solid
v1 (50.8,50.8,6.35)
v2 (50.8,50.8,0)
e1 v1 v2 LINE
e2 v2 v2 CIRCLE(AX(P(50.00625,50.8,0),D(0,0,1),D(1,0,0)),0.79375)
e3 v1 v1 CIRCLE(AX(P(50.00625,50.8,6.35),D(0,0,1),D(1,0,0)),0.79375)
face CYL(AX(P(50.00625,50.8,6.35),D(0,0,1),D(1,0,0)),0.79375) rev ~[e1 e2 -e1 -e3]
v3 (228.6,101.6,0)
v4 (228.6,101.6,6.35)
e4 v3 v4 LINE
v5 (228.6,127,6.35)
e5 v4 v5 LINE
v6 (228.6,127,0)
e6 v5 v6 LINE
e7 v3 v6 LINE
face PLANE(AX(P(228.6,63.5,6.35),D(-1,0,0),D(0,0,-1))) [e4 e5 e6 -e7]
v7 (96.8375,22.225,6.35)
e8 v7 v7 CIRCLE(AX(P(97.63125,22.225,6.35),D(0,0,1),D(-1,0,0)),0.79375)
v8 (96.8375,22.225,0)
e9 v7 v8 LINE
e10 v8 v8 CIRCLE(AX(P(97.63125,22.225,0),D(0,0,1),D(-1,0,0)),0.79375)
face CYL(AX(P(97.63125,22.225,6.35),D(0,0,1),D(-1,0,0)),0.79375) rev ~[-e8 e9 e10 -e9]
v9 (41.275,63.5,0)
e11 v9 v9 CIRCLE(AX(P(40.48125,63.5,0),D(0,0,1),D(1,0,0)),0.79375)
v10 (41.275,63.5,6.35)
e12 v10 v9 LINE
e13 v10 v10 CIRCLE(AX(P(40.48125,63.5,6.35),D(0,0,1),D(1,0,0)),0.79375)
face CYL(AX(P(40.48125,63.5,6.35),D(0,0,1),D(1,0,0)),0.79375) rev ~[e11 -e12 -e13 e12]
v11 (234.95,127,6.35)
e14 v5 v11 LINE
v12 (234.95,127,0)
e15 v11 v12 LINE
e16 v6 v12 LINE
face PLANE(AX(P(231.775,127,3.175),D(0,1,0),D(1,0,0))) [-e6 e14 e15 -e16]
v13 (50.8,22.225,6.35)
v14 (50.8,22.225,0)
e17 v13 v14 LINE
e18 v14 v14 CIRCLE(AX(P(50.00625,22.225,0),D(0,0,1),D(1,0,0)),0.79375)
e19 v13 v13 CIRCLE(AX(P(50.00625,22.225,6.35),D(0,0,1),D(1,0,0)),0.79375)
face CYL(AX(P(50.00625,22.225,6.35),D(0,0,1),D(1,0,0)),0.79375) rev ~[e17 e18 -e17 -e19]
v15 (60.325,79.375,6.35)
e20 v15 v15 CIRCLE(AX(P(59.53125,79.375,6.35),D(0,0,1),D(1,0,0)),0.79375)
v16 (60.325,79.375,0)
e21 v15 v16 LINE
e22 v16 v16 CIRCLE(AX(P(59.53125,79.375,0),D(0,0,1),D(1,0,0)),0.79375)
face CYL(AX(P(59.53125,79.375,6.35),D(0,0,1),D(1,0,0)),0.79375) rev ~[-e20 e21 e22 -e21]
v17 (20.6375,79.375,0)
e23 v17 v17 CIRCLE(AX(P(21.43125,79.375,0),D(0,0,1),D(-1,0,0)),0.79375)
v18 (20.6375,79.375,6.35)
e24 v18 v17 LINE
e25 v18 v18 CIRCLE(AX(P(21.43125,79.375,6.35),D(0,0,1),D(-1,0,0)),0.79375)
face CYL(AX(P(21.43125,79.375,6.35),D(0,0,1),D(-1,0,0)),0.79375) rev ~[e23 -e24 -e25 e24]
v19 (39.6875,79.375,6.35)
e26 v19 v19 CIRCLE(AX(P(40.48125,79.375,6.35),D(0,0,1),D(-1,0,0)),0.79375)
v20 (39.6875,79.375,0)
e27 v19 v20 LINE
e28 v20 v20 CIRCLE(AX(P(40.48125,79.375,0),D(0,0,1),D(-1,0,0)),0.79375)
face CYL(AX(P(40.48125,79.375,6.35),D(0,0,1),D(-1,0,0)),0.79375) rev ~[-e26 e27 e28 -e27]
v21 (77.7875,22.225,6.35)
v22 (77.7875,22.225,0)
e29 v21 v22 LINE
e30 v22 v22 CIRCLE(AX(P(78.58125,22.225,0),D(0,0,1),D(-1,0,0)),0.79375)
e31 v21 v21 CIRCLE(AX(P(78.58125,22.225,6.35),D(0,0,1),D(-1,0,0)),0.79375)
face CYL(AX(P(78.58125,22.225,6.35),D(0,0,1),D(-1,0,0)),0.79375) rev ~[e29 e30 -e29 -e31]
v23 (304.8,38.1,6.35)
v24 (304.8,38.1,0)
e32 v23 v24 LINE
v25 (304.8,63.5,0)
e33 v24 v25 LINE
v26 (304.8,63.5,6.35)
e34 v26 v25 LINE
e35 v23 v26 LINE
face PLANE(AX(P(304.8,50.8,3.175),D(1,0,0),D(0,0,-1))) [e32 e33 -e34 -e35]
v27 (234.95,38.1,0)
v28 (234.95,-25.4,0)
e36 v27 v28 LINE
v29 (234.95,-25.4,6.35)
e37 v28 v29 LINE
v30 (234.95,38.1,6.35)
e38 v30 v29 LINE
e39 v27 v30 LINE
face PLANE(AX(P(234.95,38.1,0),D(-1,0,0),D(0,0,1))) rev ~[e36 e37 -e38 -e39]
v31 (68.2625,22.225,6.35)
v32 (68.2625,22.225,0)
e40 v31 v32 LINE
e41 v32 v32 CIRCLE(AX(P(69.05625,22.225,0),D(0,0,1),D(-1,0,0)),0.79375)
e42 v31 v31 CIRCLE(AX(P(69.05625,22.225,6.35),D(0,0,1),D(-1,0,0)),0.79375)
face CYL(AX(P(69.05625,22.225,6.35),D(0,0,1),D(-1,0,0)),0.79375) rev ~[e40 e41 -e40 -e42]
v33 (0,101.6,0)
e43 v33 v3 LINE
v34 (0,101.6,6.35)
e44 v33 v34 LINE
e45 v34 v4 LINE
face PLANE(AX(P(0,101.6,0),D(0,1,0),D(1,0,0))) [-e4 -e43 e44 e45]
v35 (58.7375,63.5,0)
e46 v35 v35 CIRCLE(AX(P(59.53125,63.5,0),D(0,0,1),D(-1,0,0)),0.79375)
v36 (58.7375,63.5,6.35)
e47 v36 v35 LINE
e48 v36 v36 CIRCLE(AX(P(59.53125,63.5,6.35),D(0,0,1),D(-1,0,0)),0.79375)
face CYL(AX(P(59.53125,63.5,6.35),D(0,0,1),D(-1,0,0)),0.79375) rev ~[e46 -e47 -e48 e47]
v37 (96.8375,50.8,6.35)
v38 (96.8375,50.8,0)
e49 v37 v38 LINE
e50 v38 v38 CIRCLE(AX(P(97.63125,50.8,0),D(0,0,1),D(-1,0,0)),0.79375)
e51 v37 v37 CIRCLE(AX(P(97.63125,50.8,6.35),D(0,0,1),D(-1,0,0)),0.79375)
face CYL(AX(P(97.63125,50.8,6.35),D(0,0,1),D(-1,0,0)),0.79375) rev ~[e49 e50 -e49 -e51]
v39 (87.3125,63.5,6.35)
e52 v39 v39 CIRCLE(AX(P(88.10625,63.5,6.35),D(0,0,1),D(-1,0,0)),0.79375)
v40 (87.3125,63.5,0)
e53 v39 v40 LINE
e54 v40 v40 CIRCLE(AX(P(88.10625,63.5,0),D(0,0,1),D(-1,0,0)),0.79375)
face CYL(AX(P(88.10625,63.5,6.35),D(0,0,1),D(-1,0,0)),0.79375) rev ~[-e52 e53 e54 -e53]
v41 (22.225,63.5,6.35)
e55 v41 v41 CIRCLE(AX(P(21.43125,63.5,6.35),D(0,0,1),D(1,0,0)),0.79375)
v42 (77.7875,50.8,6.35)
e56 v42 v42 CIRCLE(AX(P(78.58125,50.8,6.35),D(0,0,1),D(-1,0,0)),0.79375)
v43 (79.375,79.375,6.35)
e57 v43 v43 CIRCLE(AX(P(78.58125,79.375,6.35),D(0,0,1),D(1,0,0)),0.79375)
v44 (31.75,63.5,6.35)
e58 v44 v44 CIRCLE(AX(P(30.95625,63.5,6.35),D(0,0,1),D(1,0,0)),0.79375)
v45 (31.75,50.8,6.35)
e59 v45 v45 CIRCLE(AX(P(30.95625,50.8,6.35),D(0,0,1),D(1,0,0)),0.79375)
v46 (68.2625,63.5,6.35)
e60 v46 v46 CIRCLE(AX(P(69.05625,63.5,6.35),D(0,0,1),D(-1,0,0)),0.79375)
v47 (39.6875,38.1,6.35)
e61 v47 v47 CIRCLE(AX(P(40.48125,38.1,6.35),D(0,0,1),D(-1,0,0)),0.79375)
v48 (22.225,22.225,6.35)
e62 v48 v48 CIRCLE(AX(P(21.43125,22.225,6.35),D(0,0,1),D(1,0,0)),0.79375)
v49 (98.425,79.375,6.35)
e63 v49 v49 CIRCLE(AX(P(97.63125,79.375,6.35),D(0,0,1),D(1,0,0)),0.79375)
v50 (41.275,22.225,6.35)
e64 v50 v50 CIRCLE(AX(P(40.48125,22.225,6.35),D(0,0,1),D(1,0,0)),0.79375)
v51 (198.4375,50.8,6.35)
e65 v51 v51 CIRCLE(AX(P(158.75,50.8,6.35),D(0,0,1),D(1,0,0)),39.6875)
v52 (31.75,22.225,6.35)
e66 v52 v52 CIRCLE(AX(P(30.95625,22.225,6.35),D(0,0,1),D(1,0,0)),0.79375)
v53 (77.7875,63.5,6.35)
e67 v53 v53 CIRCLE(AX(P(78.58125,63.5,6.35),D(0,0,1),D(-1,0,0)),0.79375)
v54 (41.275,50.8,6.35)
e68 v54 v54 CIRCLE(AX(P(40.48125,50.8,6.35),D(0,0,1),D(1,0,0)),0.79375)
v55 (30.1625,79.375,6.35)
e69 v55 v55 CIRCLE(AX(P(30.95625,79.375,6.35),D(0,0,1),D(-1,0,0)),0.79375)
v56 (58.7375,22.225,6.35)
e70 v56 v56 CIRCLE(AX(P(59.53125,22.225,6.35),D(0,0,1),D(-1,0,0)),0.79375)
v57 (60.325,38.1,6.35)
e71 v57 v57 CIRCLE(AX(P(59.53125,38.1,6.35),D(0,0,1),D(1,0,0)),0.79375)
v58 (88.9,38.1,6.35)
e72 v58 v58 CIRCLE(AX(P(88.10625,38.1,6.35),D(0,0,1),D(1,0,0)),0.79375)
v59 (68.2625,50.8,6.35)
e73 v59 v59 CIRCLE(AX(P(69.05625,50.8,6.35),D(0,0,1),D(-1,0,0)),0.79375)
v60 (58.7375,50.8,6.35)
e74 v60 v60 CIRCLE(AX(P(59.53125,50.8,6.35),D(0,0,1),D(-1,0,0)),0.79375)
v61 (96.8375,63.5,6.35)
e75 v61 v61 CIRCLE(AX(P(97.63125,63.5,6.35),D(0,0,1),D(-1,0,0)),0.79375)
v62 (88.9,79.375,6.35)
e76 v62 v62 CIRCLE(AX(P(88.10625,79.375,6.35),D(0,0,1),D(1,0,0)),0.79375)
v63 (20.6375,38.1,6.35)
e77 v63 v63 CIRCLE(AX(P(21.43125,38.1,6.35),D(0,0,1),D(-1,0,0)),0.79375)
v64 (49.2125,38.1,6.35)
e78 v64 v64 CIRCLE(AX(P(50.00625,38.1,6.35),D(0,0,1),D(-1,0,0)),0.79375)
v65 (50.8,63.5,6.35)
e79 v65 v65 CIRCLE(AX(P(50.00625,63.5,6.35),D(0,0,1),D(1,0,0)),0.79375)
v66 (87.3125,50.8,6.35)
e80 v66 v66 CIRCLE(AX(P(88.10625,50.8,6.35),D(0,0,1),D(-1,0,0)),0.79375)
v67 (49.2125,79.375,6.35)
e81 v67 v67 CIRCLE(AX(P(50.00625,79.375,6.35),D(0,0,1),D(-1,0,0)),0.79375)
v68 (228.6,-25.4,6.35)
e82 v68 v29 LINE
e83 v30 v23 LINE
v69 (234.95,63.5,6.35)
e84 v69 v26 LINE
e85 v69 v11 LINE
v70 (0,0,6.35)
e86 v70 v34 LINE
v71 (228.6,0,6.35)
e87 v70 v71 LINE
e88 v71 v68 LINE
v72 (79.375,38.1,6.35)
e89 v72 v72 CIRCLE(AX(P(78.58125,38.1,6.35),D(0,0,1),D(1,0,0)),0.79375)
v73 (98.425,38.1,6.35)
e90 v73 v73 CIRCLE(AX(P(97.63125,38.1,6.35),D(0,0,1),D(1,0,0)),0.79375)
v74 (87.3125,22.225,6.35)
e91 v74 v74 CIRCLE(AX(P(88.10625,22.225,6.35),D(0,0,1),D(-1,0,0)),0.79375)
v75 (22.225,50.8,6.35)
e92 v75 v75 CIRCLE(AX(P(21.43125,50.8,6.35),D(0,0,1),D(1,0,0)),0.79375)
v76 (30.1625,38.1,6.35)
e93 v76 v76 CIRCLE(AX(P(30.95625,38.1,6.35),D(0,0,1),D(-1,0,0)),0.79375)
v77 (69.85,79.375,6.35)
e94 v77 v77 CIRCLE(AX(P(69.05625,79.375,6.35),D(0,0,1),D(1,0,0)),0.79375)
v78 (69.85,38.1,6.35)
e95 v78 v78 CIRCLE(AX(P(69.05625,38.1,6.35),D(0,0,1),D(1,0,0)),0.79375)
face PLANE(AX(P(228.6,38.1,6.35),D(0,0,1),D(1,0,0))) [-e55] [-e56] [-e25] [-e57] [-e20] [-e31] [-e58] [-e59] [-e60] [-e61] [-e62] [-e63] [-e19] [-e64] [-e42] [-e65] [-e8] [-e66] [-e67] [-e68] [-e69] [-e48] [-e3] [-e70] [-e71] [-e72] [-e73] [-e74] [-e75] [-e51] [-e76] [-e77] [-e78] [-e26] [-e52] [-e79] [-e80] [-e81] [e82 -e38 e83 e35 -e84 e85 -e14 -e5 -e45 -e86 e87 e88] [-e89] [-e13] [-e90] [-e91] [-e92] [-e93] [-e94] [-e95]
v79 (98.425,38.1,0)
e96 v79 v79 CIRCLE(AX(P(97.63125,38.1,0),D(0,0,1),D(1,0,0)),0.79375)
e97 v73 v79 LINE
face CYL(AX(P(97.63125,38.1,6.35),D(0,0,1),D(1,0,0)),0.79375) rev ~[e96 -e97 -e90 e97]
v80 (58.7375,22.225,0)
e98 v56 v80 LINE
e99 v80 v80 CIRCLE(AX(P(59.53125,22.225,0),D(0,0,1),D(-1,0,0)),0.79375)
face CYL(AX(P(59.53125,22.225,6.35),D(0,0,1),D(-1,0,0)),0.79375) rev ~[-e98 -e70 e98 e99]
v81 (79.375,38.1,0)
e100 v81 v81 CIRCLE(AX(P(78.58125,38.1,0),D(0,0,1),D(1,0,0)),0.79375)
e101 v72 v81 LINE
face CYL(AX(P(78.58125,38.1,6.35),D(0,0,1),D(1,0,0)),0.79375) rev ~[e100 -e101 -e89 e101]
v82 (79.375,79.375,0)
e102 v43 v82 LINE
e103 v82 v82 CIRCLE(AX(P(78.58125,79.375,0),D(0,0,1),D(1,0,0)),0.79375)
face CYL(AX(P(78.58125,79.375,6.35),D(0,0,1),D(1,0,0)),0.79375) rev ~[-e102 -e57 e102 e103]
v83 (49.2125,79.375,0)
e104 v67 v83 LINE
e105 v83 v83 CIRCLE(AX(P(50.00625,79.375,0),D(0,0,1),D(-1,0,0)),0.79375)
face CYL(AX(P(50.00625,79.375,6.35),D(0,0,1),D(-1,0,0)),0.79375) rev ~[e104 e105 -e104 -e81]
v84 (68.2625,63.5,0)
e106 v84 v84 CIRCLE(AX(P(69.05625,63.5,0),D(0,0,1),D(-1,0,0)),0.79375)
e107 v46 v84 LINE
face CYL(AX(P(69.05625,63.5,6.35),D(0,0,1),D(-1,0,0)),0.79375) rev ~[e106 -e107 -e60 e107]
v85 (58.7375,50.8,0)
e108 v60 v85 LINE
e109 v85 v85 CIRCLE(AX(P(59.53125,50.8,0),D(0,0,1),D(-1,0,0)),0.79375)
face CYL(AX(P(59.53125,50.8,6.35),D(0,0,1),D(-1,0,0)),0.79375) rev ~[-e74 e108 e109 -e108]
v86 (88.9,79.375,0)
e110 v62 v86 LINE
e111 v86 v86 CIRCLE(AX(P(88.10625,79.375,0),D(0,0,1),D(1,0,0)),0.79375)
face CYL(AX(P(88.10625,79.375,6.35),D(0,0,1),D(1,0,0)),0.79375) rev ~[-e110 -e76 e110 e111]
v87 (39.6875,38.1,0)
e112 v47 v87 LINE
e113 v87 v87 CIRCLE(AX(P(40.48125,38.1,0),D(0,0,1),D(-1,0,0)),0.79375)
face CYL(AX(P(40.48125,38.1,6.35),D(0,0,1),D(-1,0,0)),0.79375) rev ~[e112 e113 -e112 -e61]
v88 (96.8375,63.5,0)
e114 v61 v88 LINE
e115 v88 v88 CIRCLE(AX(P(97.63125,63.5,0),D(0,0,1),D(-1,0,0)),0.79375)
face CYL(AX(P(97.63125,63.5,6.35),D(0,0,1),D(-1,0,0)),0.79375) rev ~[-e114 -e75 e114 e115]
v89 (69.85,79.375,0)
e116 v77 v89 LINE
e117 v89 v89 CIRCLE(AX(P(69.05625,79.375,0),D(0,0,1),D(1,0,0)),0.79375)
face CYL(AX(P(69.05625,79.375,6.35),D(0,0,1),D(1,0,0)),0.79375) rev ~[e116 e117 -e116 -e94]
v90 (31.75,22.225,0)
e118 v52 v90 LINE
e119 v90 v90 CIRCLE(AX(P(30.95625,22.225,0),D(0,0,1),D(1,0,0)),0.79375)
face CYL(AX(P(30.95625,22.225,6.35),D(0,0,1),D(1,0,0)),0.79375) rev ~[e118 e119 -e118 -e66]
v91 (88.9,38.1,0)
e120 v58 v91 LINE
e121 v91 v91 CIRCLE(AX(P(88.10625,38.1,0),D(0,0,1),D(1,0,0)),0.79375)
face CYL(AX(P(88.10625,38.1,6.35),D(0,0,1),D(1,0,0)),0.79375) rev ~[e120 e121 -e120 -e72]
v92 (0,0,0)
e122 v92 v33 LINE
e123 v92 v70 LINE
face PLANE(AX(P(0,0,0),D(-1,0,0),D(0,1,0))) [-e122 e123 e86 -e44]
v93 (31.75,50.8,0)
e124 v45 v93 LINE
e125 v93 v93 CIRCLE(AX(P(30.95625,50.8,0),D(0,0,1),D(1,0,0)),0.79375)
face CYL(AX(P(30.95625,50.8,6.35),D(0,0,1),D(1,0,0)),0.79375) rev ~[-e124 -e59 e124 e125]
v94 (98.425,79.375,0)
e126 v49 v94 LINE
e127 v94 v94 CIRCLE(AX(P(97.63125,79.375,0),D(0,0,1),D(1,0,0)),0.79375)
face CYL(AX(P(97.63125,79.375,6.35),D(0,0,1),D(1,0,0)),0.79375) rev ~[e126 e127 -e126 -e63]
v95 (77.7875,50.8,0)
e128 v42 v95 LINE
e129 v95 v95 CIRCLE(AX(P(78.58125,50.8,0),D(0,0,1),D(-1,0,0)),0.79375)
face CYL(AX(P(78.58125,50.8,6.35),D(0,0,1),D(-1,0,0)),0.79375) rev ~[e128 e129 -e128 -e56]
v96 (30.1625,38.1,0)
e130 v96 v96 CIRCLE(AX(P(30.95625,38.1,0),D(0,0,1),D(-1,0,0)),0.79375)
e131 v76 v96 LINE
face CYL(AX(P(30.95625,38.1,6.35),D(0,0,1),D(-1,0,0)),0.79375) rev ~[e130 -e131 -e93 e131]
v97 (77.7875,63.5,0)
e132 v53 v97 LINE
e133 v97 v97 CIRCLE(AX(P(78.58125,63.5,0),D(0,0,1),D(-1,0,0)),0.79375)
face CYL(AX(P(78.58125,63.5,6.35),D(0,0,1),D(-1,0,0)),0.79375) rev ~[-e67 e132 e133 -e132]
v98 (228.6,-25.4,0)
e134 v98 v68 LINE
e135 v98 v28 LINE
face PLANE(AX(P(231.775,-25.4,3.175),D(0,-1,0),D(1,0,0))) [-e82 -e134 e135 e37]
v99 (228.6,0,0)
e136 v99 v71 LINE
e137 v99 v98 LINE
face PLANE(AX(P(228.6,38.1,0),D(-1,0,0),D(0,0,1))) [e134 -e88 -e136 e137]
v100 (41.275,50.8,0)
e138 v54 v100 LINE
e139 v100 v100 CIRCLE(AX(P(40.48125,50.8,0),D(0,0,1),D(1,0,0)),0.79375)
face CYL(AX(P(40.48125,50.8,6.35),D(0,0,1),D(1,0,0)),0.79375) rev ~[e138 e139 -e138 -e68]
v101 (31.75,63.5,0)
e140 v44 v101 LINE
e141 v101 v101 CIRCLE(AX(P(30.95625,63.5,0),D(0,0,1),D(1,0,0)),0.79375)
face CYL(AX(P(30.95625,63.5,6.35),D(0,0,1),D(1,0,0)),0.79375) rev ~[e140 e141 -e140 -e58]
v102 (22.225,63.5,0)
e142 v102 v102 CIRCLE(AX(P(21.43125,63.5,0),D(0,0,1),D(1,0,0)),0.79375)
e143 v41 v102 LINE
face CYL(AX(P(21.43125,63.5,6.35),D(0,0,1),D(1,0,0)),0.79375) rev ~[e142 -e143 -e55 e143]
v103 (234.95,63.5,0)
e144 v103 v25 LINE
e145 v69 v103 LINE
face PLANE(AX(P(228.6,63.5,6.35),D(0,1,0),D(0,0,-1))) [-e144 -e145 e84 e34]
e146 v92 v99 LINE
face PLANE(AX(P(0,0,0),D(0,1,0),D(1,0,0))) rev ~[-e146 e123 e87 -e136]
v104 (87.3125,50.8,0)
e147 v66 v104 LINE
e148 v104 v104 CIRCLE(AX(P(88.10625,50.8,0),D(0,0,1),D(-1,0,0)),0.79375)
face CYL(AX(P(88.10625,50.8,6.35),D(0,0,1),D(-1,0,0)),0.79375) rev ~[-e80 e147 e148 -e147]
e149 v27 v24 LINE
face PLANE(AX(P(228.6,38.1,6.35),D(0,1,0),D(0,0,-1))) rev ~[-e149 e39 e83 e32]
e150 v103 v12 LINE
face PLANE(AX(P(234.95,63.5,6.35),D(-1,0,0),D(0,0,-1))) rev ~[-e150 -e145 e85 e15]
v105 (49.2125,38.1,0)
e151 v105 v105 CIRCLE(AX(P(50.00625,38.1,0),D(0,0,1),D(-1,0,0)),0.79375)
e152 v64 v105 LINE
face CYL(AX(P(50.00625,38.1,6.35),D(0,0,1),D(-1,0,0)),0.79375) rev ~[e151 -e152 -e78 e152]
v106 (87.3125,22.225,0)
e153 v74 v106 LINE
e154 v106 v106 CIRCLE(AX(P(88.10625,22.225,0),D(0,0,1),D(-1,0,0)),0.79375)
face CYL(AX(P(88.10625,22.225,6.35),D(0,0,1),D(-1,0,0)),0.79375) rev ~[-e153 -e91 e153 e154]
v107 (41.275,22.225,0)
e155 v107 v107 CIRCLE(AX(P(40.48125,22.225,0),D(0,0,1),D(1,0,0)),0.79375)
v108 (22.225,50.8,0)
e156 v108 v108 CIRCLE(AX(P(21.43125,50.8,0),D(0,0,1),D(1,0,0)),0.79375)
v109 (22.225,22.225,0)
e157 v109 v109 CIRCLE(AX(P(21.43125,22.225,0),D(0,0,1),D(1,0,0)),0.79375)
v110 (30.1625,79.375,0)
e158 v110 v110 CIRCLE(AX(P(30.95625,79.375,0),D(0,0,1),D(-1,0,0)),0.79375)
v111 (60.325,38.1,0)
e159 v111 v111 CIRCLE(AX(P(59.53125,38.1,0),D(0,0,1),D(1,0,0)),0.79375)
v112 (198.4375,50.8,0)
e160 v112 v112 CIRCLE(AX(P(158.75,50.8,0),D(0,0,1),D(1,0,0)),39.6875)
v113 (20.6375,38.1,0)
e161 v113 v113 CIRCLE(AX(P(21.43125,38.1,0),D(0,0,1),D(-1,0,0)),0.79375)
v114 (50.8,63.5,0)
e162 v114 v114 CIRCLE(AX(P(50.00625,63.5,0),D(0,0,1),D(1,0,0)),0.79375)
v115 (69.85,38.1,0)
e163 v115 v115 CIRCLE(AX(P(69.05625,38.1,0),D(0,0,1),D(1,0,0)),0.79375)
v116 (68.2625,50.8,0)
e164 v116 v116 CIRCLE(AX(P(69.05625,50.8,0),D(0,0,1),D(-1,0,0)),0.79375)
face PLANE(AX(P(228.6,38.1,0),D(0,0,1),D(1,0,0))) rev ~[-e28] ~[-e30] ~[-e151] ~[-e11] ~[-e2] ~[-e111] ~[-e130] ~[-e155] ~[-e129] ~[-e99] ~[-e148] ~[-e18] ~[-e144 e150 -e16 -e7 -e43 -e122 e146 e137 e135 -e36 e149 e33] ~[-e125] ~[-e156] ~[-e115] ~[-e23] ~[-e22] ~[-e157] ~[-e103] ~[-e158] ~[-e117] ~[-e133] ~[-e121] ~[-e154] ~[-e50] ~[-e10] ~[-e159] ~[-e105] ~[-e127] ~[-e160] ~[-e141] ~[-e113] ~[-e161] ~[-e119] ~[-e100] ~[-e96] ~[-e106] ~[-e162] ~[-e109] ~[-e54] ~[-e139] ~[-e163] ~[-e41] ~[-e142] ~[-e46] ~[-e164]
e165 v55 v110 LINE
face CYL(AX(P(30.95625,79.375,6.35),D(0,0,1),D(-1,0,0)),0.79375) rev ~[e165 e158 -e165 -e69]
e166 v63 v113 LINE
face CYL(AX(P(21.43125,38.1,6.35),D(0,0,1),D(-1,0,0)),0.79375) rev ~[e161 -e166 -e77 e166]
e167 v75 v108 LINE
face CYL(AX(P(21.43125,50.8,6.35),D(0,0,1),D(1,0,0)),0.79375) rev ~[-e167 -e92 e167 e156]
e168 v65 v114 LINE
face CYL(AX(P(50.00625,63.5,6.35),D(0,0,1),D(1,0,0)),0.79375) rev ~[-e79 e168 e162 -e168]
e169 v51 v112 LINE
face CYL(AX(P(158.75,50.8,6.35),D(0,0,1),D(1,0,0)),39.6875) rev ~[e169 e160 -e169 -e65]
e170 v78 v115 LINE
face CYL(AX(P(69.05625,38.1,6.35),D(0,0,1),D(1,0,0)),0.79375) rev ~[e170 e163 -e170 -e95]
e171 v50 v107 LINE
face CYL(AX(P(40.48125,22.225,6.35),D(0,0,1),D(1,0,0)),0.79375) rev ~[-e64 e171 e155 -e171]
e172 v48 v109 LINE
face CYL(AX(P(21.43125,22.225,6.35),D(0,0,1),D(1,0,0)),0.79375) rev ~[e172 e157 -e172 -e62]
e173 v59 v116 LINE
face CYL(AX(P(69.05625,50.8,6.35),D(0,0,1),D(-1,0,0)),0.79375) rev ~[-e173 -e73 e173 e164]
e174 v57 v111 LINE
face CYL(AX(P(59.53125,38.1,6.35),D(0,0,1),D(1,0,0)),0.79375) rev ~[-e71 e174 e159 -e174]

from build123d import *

# Parameters (mm, degrees)
SKETCH1_W           = 228.6
SKETCH1_H           = 101.6
BOSS_EXTRUDE1_DEPTH = 6.35
CUT_EXTRUDE1_DEPTH  = 76.2
SKETCH3_W           = 6.35
SKETCH3_H           = 25.4
BOSS_EXTRUDE2_DEPTH = 76.2
SKETCH5_W           = 6.35
SKETCH5_H           = 6.35
BOSS_EXTRUDE3_DEPTH = 63.5
SKETCH6_W           = 6.35
SKETCH6_H           = 6.35
BOSS_EXTRUDE4_DEPTH = 63.5
SKETCH7_R           = 0.79375
CUT_EXTRUDE3_DEPTH  = 50.8


with BuildPart() as part:
    # Sketch1 → Boss-Extrude1 (new body)
    with BuildSketch(Plane.XY):
        with Locations((114.3, 50.8)):
            Rectangle(SKETCH1_W, SKETCH1_H)
    extrude(amount=BOSS_EXTRUDE1_DEPTH)

    # Sketch2 → Cut-Extrude1 (cut)
    with BuildSketch(Plane.XY.offset(6.35)):
        with BuildLine():
            ThreePointArc((119.0625, 50.8), (158.75, 11.1125), (198.4375, 50.8))
            Line((198.4375, 50.8), (119.0625, 50.8))
        make_face()
        with BuildLine():
            Line((119.0625, 50.8), (198.4375, 50.8))
            ThreePointArc((198.4375, 50.8), (158.75, 90.4875), (119.0625, 50.8))
        make_face()
    extrude(amount=-CUT_EXTRUDE1_DEPTH, mode=Mode.SUBTRACT)

    # Sketch3 → Boss-Extrude2 (add)
    with BuildSketch(Plane(origin=(228.6, 0, 0), x_dir=(0, 0, -1), z_dir=(1, 0, 0))):
        with Locations((-3.175, 50.8)):
            Rectangle(SKETCH3_W, SKETCH3_H)
    extrude(amount=BOSS_EXTRUDE2_DEPTH)

    # Sketch5 → Boss-Extrude3 (add)
    with BuildSketch(Plane(origin=(0, 63.5, 0), x_dir=(1, 0, 0), z_dir=(0, 1, 0))):
        with Locations((231.775, -3.175)):
            Rectangle(SKETCH5_W, SKETCH5_H)
    extrude(amount=BOSS_EXTRUDE3_DEPTH)

    # Sketch6 → Boss-Extrude4 (add)
    with BuildSketch(Plane.XZ.offset(-38.1)):
        with Locations((231.775, 3.175)):
            Rectangle(SKETCH6_W, SKETCH6_H)
    extrude(amount=BOSS_EXTRUDE4_DEPTH)

    # Sketch7 → Cut-Extrude3 (cut)
    with BuildSketch(Plane.XY.offset(6.35)):
        with Locations(Location((59.53125, 50.8, 0), (0, 0, 180))):
            Circle(SKETCH7_R)
        with Locations((59.53125, 79.375)):
            Circle(SKETCH7_R)
        with Locations(Location((88.10625, 50.8, 0), (0, 0, 180))):
            Circle(SKETCH7_R)
        with Locations((59.53125, 38.1)):
            Circle(SKETCH7_R)
        with Locations((30.95625, 50.8)):
            Circle(SKETCH7_R)
        with Locations((50.00625, 50.8)):
            Circle(SKETCH7_R)
        with Locations(Location((59.53125, 63.5, 0), (0, 0, 180))):
            Circle(SKETCH7_R)
        with Locations(Location((78.58125, 50.8, 0), (0, 0, 180))):
            Circle(SKETCH7_R)
        with Locations(Location((59.53125, 22.225, 0), (0, 0, 180))):
            Circle(SKETCH7_R)
        with Locations(Location((97.63125, 50.8, 0), (0, 0, 180))):
            Circle(SKETCH7_R)
        with Locations((21.43125, 50.8)):
            Circle(SKETCH7_R)
        with Locations((69.05625, 79.375)):
            Circle(SKETCH7_R)
        with Locations((40.48125, 50.8)):
            Circle(SKETCH7_R)
        with Locations(Location((69.05625, 63.5, 0), (0, 0, 180))):
            Circle(SKETCH7_R)
        with Locations(Location((69.05625, 50.8, 0), (0, 0, 180))):
            Circle(SKETCH7_R)
        with Locations((69.05625, 38.1)):
            Circle(SKETCH7_R)
        with Locations(Location((69.05625, 22.225, 0), (0, 0, 180))):
            Circle(SKETCH7_R)
        with Locations((78.58125, 79.375)):
            Circle(SKETCH7_R)
        with Locations(Location((78.58125, 63.5, 0), (0, 0, 180))):
            Circle(SKETCH7_R)
        with Locations((78.58125, 38.1)):
            Circle(SKETCH7_R)
        with Locations(Location((78.58125, 22.225, 0), (0, 0, 180))):
            Circle(SKETCH7_R)
        with Locations((88.10625, 79.375)):
            Circle(SKETCH7_R)
        with Locations(Location((88.10625, 63.5, 0), (0, 0, 180))):
            Circle(SKETCH7_R)
        with Locations((88.10625, 38.1)):
            Circle(SKETCH7_R)
        with Locations(Location((88.10625, 22.225, 0), (0, 0, 180))):
            Circle(SKETCH7_R)
        with Locations((97.63125, 79.375)):
            Circle(SKETCH7_R)
        with Locations(Location((97.63125, 63.5, 0), (0, 0, 180))):
            Circle(SKETCH7_R)
        with Locations((97.63125, 38.1)):
            Circle(SKETCH7_R)
        with Locations(Location((97.63125, 22.225, 0), (0, 0, 180))):
            Circle(SKETCH7_R)
        with Locations((21.43125, 22.225)):
            Circle(SKETCH7_R)
        with Locations(Location((21.43125, 38.1, 0), (0, 0, 180))):
            Circle(SKETCH7_R)
        with Locations((21.43125, 63.5)):
            Circle(SKETCH7_R)
        with Locations(Location((21.43125, 79.375, 0), (0, 0, 180))):
            Circle(SKETCH7_R)
        with Locations((30.95625, 22.225)):
            Circle(SKETCH7_R)
        with Locations(Location((30.95625, 38.1, 0), (0, 0, 180))):
            Circle(SKETCH7_R)
        with Locations((30.95625, 63.5)):
            Circle(SKETCH7_R)
        with Locations(Location((30.95625, 79.375, 0), (0, 0, 180))):
            Circle(SKETCH7_R)
        with Locations((40.48125, 22.225)):
            Circle(SKETCH7_R)
        with Locations(Location((40.48125, 38.1, 0), (0, 0, 180))):
            Circle(SKETCH7_R)
        with Locations((40.48125, 63.5)):
            Circle(SKETCH7_R)
        with Locations(Location((40.48125, 79.375, 0), (0, 0, 180))):
            Circle(SKETCH7_R)
        with Locations((50.00625, 22.225)):
            Circle(SKETCH7_R)
        with Locations(Location((50.00625, 38.1, 0), (0, 0, 180))):
            Circle(SKETCH7_R)
        with Locations((50.00625, 63.5)):
            Circle(SKETCH7_R)
        with Locations(Location((50.00625, 79.375, 0), (0, 0, 180))):
            Circle(SKETCH7_R)
    extrude(amount=-CUT_EXTRUDE3_DEPTH, mode=Mode.SUBTRACT)


solid = part.part
